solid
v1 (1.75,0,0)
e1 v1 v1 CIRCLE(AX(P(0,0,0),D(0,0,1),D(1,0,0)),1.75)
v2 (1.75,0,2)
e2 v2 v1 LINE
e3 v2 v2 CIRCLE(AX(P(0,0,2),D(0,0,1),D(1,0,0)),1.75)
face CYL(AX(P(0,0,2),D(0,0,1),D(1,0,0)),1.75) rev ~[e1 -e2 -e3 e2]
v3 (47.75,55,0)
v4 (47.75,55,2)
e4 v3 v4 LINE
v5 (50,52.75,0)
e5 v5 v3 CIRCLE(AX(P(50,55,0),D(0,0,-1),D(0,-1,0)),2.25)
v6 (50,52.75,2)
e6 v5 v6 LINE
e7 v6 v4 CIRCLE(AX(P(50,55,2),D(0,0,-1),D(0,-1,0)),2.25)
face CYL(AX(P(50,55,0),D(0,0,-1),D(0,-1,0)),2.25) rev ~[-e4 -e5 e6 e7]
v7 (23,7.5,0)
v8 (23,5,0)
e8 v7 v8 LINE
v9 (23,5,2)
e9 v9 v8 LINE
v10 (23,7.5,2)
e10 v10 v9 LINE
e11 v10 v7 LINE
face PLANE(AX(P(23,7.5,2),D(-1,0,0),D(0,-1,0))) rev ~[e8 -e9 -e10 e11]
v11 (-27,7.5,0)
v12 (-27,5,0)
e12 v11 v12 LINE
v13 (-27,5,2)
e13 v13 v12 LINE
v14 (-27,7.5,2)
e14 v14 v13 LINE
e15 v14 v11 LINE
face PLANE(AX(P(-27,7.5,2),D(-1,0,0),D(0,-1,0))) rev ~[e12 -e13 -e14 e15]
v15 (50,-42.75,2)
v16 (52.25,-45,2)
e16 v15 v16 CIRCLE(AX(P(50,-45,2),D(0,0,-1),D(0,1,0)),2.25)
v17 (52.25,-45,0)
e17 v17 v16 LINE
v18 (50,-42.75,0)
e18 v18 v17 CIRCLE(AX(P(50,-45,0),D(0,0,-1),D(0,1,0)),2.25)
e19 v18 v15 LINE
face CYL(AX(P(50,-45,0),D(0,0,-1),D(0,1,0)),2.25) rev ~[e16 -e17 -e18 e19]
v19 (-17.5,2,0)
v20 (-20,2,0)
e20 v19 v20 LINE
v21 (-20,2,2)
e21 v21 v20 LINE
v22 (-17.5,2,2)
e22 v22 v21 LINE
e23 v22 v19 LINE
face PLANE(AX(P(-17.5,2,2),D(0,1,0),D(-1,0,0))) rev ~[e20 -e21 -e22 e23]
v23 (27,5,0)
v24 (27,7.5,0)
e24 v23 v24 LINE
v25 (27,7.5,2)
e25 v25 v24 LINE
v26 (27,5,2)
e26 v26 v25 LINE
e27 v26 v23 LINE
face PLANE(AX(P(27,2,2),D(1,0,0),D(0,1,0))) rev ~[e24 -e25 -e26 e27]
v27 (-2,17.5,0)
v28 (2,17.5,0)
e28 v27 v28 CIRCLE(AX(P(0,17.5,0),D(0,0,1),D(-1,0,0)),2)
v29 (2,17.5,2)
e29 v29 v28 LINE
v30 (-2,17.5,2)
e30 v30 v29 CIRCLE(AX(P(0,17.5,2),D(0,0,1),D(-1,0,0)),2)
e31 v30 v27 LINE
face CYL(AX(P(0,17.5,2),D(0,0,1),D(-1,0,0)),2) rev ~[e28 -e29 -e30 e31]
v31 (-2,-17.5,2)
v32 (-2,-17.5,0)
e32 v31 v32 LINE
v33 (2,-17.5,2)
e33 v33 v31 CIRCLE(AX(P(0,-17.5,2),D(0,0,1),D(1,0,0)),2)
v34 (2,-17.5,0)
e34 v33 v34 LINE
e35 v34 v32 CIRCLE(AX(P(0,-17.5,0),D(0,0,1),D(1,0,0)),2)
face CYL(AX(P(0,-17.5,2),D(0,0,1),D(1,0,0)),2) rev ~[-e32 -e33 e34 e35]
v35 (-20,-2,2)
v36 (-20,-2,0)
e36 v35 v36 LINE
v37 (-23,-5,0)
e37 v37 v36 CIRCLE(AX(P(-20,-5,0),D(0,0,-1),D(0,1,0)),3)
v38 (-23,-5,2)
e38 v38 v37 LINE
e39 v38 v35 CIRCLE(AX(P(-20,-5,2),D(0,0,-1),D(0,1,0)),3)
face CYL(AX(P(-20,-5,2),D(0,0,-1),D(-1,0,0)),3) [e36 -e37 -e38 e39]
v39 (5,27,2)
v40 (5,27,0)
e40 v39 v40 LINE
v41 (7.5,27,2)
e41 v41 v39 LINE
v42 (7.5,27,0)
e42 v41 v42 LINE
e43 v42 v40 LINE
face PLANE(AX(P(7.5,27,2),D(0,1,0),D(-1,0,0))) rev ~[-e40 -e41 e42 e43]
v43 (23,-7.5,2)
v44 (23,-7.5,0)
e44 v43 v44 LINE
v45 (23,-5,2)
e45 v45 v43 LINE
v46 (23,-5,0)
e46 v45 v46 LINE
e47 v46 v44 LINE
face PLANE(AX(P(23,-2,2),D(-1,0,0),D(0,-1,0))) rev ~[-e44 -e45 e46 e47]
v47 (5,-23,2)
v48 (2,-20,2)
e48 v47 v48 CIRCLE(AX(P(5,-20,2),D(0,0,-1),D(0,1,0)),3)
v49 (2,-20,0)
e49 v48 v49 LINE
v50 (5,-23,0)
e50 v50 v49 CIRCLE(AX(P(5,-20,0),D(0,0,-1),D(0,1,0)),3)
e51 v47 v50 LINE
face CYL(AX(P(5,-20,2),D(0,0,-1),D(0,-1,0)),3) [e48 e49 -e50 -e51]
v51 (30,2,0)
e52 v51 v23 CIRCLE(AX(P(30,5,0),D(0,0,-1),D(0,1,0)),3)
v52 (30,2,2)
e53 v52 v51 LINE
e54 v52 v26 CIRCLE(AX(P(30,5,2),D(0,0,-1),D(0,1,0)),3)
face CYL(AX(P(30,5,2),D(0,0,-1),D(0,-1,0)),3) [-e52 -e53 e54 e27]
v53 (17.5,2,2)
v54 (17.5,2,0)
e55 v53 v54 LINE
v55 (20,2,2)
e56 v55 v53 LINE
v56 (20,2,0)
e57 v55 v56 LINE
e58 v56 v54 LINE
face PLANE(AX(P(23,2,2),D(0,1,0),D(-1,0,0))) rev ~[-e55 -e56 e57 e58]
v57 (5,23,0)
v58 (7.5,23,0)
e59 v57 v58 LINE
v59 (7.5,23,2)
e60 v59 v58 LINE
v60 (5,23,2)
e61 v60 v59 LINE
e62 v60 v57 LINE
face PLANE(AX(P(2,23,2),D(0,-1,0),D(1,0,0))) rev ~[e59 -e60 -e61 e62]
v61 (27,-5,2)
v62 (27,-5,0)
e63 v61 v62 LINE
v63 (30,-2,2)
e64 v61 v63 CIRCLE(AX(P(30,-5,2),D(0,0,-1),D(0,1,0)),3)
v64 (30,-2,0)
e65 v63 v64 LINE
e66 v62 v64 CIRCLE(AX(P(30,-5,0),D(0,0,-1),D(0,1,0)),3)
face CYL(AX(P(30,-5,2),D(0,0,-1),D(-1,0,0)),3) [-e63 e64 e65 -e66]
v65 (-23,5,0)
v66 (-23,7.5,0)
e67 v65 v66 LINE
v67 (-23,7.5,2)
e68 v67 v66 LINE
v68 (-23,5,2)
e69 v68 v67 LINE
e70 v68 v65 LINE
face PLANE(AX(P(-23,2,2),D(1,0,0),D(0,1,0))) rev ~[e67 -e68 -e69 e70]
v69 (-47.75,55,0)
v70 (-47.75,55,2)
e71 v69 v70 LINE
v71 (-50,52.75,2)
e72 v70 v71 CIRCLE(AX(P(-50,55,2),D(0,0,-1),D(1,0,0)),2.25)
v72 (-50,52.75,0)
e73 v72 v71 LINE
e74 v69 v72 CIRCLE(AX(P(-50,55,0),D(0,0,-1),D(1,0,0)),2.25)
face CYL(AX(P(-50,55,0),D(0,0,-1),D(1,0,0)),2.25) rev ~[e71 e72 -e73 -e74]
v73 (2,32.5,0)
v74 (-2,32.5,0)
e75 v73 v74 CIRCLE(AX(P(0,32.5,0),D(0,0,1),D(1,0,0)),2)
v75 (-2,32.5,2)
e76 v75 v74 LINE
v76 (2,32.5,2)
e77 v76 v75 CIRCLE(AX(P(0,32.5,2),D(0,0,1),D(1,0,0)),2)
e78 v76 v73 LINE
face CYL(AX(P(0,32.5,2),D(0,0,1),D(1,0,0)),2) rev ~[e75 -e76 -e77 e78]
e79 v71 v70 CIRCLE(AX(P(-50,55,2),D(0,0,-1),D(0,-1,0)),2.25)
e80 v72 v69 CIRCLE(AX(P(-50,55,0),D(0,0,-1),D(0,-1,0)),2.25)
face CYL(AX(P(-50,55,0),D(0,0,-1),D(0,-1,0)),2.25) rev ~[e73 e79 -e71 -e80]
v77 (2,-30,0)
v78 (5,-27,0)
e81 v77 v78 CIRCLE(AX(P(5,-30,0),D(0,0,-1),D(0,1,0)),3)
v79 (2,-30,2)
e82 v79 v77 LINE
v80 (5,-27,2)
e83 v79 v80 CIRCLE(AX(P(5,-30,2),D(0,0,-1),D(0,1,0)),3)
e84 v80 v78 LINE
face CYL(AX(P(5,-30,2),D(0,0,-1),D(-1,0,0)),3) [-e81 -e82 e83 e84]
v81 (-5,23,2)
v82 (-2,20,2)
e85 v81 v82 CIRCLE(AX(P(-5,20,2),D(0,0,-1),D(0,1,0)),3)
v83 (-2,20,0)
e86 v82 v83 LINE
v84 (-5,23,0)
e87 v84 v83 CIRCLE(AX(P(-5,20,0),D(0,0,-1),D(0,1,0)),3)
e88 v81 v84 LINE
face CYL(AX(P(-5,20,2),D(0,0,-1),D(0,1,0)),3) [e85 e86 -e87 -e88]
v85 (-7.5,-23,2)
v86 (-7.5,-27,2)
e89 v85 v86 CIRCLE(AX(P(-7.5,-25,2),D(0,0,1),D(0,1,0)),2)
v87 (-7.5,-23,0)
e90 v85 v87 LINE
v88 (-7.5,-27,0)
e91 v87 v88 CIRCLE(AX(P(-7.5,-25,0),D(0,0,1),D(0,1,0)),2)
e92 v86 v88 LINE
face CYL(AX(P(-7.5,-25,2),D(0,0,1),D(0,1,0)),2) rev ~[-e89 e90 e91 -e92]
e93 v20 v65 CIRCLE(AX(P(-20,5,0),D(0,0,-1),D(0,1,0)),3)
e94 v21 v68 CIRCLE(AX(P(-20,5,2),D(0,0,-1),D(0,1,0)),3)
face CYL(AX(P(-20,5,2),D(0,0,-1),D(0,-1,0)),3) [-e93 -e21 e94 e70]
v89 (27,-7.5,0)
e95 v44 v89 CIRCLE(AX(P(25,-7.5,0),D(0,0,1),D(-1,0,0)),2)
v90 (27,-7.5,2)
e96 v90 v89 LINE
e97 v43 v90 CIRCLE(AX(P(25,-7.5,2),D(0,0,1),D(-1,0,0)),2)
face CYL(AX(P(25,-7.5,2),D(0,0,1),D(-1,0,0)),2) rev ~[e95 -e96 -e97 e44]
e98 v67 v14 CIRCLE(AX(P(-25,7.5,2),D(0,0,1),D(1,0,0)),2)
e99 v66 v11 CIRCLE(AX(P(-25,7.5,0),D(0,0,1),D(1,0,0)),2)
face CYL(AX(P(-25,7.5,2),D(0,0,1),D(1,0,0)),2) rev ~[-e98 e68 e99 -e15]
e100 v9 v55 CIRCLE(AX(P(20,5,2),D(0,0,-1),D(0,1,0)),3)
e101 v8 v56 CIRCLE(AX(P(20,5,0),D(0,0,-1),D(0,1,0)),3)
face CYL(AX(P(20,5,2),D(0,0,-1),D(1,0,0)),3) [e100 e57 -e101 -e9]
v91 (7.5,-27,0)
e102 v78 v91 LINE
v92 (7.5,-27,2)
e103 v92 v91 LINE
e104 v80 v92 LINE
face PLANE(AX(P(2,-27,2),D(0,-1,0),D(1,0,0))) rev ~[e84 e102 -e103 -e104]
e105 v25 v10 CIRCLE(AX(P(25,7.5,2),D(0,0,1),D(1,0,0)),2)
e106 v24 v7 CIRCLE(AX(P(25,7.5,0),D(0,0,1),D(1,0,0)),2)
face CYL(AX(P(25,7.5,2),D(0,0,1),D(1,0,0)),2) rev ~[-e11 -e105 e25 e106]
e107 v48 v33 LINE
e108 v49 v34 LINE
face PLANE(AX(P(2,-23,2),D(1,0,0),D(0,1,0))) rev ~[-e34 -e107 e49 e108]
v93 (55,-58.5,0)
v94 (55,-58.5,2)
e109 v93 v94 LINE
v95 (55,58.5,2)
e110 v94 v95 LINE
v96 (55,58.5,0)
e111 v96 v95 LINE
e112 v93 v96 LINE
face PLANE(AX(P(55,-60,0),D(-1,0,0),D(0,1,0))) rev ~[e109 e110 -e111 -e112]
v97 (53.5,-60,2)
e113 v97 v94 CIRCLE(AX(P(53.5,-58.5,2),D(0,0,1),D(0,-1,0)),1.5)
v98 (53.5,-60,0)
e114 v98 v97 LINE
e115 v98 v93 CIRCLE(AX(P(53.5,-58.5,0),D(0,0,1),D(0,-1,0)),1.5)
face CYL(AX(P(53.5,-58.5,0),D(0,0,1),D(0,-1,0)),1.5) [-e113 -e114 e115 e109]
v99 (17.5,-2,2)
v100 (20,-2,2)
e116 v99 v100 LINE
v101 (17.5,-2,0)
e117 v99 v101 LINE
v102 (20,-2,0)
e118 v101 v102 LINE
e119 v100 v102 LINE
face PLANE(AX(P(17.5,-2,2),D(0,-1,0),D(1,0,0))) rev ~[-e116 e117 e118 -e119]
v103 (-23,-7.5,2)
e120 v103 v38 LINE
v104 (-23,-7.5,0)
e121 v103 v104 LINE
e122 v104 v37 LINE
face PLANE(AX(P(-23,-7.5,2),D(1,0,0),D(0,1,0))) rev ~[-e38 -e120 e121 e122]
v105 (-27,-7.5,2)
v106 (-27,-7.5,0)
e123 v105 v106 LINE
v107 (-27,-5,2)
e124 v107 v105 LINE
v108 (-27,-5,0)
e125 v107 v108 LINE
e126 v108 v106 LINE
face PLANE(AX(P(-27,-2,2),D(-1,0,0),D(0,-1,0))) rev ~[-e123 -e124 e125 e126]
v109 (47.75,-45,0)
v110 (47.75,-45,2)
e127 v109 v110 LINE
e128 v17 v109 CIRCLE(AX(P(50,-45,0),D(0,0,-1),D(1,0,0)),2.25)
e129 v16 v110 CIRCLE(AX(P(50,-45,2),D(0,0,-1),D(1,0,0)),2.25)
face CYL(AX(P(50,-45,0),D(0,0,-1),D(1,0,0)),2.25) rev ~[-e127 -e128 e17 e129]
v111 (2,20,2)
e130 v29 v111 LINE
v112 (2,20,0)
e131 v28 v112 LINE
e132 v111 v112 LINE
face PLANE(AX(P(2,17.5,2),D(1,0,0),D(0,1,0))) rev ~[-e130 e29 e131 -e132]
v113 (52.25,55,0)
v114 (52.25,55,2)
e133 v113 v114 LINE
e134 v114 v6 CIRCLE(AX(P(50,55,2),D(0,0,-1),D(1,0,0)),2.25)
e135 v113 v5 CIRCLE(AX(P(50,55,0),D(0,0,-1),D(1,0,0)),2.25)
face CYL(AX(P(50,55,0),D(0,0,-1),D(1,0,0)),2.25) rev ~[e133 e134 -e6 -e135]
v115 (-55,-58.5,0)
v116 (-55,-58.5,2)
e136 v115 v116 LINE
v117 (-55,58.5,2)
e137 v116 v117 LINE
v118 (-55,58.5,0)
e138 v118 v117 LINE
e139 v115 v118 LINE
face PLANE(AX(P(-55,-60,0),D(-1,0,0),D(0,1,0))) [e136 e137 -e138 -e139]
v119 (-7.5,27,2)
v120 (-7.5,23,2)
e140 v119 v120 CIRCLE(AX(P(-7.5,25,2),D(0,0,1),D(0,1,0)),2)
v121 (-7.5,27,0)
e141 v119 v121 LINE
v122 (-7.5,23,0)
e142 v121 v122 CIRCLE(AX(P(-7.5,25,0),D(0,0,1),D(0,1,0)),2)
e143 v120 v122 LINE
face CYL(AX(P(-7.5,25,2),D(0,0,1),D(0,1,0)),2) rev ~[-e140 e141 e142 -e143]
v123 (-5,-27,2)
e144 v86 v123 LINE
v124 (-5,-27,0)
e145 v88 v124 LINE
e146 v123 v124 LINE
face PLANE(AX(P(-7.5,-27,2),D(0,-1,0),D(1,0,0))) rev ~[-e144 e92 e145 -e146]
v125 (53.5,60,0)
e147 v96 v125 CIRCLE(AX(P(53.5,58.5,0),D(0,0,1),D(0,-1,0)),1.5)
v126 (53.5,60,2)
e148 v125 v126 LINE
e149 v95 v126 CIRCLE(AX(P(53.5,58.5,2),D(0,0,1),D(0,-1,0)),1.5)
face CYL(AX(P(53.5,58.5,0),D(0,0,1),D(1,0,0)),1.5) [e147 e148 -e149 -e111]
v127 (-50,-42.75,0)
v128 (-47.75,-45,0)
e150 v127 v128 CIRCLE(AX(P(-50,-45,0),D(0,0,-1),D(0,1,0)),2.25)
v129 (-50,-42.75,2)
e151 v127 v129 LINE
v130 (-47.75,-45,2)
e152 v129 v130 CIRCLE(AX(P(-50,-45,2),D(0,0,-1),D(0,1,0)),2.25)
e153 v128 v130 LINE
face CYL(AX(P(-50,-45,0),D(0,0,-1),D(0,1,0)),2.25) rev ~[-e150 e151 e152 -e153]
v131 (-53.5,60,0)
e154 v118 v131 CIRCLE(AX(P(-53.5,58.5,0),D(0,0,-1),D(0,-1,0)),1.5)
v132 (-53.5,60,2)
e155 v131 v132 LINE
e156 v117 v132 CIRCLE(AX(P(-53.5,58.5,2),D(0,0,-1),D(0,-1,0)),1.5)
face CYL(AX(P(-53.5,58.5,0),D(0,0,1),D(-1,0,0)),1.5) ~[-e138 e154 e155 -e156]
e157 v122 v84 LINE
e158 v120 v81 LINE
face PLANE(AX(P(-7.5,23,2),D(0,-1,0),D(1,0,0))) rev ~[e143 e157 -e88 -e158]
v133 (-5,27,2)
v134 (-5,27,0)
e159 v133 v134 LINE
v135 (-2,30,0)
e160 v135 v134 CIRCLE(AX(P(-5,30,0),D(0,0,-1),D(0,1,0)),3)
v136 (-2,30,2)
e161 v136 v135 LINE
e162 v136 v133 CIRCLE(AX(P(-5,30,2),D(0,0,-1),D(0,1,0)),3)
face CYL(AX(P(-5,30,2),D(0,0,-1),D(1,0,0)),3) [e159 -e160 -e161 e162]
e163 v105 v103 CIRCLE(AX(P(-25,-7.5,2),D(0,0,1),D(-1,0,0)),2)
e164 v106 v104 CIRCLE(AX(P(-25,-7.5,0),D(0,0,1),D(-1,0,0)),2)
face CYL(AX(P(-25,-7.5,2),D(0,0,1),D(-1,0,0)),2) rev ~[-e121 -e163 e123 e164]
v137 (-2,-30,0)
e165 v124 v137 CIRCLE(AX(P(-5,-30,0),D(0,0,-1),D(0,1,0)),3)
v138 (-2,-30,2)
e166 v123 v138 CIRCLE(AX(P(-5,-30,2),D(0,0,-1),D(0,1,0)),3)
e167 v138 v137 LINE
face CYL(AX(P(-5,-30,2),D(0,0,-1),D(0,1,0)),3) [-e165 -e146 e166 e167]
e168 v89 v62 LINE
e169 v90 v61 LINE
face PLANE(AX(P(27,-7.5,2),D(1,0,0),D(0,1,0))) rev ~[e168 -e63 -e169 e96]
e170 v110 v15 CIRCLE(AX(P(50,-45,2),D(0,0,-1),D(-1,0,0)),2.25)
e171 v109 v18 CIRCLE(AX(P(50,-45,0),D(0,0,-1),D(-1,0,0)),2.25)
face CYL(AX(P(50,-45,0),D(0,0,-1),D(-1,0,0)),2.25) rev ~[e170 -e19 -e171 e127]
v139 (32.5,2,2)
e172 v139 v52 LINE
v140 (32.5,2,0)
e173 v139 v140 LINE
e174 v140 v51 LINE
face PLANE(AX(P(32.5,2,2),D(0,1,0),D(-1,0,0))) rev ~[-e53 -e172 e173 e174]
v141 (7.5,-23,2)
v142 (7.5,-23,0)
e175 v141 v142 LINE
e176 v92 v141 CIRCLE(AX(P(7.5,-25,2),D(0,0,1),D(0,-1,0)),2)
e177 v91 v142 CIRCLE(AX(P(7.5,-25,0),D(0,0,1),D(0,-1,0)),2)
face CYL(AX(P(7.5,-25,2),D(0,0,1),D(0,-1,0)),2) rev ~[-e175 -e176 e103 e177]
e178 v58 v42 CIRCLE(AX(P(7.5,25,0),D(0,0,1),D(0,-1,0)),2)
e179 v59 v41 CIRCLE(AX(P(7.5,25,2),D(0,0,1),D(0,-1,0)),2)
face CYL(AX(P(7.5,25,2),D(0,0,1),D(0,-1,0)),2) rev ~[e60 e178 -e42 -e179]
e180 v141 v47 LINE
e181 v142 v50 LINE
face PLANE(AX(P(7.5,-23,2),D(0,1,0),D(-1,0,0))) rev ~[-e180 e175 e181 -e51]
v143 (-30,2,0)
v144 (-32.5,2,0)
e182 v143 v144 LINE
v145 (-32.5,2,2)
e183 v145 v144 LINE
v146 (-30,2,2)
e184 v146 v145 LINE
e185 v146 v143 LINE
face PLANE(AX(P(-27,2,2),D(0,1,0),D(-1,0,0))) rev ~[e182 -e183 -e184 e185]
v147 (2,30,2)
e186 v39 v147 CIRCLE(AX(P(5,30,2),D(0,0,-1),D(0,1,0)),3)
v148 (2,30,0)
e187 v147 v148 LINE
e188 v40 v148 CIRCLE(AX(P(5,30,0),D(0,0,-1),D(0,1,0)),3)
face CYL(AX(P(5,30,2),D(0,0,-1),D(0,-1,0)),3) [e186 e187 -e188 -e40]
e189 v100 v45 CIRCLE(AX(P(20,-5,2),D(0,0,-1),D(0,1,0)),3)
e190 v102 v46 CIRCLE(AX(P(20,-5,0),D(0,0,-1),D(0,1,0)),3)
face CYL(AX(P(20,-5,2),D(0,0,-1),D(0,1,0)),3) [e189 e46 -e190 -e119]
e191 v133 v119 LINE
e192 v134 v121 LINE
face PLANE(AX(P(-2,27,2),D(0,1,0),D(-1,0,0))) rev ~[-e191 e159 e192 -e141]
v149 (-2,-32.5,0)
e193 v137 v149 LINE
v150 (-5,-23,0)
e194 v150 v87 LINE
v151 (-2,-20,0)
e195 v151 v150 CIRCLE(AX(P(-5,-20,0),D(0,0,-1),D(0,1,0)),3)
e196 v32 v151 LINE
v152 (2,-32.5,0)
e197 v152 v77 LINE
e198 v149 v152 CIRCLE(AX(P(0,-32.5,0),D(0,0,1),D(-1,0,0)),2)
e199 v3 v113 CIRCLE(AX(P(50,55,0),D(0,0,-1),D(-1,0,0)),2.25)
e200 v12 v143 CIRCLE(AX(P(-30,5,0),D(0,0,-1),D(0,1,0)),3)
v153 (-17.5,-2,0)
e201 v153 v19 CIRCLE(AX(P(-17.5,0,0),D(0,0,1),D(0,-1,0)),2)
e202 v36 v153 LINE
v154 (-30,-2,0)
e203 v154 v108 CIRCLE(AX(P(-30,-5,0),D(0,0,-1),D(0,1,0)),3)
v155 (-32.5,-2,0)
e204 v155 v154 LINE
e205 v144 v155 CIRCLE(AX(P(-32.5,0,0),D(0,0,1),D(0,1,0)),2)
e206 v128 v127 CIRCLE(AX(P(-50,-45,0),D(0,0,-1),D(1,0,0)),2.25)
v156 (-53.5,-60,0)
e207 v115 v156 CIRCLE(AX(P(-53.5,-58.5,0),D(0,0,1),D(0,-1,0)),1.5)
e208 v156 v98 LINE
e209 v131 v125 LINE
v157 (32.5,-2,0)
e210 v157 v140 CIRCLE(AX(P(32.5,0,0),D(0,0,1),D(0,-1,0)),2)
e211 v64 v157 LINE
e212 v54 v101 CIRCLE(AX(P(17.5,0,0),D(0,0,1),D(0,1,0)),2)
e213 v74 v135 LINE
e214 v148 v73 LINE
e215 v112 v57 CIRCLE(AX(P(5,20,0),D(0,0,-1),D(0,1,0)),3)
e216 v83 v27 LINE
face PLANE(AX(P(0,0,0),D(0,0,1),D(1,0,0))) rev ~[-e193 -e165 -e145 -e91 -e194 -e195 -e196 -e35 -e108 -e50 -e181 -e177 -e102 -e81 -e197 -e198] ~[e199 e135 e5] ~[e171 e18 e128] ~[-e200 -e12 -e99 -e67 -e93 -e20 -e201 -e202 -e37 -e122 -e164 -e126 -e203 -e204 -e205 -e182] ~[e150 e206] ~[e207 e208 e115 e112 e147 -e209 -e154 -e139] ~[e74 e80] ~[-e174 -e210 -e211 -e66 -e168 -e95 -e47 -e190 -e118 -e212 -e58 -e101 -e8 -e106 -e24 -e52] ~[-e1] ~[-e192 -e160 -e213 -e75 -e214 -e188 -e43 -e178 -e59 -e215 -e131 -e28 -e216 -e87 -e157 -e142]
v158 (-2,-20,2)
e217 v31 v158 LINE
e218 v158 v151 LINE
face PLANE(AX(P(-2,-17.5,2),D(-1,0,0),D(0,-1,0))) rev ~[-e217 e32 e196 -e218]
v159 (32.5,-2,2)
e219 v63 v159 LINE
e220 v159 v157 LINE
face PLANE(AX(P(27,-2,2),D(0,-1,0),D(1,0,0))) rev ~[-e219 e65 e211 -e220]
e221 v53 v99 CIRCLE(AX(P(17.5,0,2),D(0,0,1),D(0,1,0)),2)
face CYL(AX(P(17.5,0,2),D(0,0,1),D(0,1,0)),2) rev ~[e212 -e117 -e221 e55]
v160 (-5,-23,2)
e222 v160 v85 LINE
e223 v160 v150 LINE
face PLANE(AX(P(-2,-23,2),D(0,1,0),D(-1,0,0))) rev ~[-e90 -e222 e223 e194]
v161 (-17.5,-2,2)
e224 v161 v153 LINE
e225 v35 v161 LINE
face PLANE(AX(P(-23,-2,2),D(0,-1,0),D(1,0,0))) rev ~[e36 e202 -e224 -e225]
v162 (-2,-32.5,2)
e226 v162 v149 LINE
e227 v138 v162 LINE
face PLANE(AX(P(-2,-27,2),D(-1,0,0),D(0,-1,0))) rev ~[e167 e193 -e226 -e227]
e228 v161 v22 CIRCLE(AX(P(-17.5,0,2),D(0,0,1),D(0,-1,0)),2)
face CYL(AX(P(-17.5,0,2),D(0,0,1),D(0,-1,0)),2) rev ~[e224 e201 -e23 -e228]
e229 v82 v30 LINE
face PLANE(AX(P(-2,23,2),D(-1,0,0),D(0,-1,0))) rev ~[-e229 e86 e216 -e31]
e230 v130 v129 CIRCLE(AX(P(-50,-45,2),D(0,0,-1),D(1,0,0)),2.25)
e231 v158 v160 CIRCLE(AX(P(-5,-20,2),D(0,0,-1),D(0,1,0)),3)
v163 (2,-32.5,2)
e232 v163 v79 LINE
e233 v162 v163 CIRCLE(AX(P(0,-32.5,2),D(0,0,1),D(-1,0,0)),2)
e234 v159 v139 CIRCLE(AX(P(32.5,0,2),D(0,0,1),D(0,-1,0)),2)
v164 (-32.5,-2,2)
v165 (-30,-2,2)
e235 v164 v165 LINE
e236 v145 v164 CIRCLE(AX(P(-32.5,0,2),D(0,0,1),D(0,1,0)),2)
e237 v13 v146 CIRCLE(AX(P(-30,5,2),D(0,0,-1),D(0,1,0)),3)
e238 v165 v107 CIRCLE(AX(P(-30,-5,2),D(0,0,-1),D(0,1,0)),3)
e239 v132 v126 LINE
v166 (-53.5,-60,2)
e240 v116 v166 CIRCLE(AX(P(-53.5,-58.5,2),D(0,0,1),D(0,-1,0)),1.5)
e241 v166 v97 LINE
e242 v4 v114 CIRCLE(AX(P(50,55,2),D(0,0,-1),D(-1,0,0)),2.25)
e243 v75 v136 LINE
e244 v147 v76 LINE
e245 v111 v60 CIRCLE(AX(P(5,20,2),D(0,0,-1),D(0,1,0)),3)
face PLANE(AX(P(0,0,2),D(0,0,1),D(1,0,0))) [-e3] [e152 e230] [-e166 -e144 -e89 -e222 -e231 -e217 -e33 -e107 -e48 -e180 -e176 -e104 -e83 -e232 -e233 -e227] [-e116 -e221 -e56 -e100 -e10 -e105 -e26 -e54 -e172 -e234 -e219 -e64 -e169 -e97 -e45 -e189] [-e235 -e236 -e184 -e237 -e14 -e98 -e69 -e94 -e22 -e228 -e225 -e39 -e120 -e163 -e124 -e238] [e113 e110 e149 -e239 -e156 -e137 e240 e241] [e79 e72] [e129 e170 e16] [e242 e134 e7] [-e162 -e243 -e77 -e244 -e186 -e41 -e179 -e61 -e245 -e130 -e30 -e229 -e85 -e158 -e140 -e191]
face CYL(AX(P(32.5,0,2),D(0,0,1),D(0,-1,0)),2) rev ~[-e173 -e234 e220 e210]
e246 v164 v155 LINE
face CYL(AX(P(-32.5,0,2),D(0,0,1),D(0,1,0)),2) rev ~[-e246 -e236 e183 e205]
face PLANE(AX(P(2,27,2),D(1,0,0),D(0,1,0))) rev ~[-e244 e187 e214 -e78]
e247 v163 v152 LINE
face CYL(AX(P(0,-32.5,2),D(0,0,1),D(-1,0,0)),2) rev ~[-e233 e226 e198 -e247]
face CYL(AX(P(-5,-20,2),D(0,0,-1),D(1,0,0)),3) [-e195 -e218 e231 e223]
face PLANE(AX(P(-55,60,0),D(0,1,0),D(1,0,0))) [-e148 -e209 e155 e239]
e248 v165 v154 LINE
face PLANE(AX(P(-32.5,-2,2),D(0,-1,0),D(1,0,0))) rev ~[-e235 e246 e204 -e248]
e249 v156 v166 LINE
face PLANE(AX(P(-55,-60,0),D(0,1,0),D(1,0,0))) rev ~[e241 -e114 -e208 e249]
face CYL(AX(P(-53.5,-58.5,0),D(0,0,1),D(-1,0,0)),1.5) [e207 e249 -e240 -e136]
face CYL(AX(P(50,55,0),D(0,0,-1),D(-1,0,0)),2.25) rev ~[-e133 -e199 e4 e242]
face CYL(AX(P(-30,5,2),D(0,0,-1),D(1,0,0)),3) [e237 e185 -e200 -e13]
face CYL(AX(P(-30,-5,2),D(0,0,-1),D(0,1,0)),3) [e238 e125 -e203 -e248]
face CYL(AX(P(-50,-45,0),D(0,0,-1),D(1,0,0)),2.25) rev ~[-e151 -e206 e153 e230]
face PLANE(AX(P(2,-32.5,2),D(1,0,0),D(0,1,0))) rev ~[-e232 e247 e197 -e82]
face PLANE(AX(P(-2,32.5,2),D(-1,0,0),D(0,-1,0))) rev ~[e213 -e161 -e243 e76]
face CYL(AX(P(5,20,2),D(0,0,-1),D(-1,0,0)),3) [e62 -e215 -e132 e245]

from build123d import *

# Parameters (mm, degrees)
F0_W     = 110
F0_H     = 120
F1_DEPTH = 2
F2_R     = 1.5
F3_W     = 2
F3_H     = 2
F3_R     = 1.75
F4_DEPTH = 2
F5_R     = 3


with BuildPart() as f1:
    # F0 (on Top) → F1 (new body)
    with BuildSketch(Plane.XY):
        Rectangle(F0_W, F0_H)
        with BuildLine():
            ThreePointArc((-50, 52.75), (-51.5909902577, 56.5909902577), (-47.75, 55))
            Line((-47.75, 55), (47.75, 55))
            ThreePointArc((47.75, 55), (50, 57.25), (52.25, 55))
            ThreePointArc((52.25, 55), (51.5909902577, 53.4090097423), (50, 52.75))
            Line((50, 52.75), (50, -42.75))
            ThreePointArc((50, -42.75), (51.5909902577, -43.4090097423), (52.25, -45))
            ThreePointArc((52.25, -45), (50, -47.25), (47.75, -45))
            Line((47.75, -45), (-47.75, -45))
            ThreePointArc((-47.75, -45), (-51.5909902577, -46.5909902577), (-50, -42.75))
            Line((-50, -42.75), (-50, 52.75))
        make_face(mode=Mode.SUBTRACT)
        with BuildLine():
            Line((47.75, 55), (-47.75, 55))
            ThreePointArc((-47.75, 55), (-48.4090097423, 53.4090097423), (-50, 52.75))
            Line((-50, 52.75), (-50, -42.75))
            ThreePointArc((-50, -42.75), (-48.4090097423, -43.4090097423), (-47.75, -45))
            Line((-47.75, -45), (47.75, -45))
            ThreePointArc((47.75, -45), (48.4090097423, -43.4090097423), (50, -42.75))
            Line((50, -42.75), (50, 52.75))
            ThreePointArc((50, 52.75), (48.4090097423, 53.4090097423), (47.75, 55))
        make_face()
    extrude(amount=F1_DEPTH)

    # F2
    f2_edges = [f1.edges().sort_by_distance(p)[0] for p in [
        (55, 60, 1),
        (55, -60, 1),
        (-55, -60, 1),
        (-55, 60, 1),
    ]]
    fillet(f2_edges, radius=F2_R)

    # F3 (on face) → F4 (cut)
    with BuildSketch(Plane.XY.offset(2)):
        with Locations((-24, 1)):
            Rectangle(F3_W, F3_H)
        with Locations((-26, 1)):
            Rectangle(F3_W, F3_H)
        with BuildLine():
            Line((-27, 2), (-25, 2))
            Line((-25, 2), (-23, 2))
            Line((-23, 2), (-23, 7.5))
            ThreePointArc((-23, 7.5), (-25, 9.5), (-27, 7.5))
            Line((-27, 7.5), (-27, 2))
        make_face()
        with Locations((-24, -1)):
            Rectangle(F3_W, F3_H)
        with Locations((-26, -1)):
            Rectangle(F3_W, F3_H)
        with BuildLine():
            Line((-27, 0), (-27, 2))
            Line((-27, 2), (-32.5, 2))
            ThreePointArc((-32.5, 2), (-34.5, 0), (-32.5, -2))
            Line((-32.5, -2), (-27, -2))
            Line((-27, -2), (-27, 0))
        make_face()
        with BuildLine():
            Line((-17.5, 2), (-23, 2))
            Line((-23, 2), (-23, 0))
            Line((-23, 0), (-23, -2))
            Line((-23, -2), (-17.5, -2))
            ThreePointArc((-17.5, -2), (-15.5, 0), (-17.5, 2))
        make_face()
        with BuildLine():
            Line((-23, -2), (-25, -2))
            Line((-25, -2), (-27, -2))
            Line((-27, -2), (-27, -7.5))
            ThreePointArc((-27, -7.5), (-25, -9.5), (-23, -7.5))
            Line((-23, -7.5), (-23, -2))
        make_face()
        Circle(F3_R)
        with BuildLine():
            Line((23, 2), (17.5, 2))
            ThreePointArc((17.5, 2), (15.5, 0), (17.5, -2))
            Line((17.5, -2), (23, -2))
            Line((23, -2), (23, 0))
            Line((23, 0), (23, 2))
        make_face()
        with BuildLine():
            Line((23, 7.5), (23, 2))
            Line((23, 2), (25, 2))
            Line((25, 2), (27, 2))
            Line((27, 2), (27, 7.5))
            ThreePointArc((27, 7.5), (25, 9.5), (23, 7.5))
        make_face()
        with Locations((24, 1)):
            Rectangle(F3_W, F3_H)
        with Locations((26, 1)):
            Rectangle(F3_W, F3_H)
        with Locations((24, -1)):
            Rectangle(F3_W, F3_H)
        with BuildLine():
            Line((25, -2), (23, -2))
            Line((23, -2), (23, -7.5))
            ThreePointArc((23, -7.5), (25, -9.5), (27, -7.5))
            Line((27, -7.5), (27, -2))
            Line((27, -2), (25, -2))
        make_face()
        with BuildLine():
            Line((32.5, 2), (27, 2))
            Line((27, 2), (27, 0))
            Line((27, 0), (27, -2))
            Line((27, -2), (32.5, -2))
            ThreePointArc((32.5, -2), (34.5, 0), (32.5, 2))
        make_face()
        with Locations((26, -1)):
            Rectangle(F3_W, F3_H)
        with Locations((1, 26)):
            Rectangle(F3_W, F3_H)
        with Locations((-1, 26)):
            Rectangle(F3_W, F3_H)
        with BuildLine():
            Line((-2, 27), (0, 27))
            Line((0, 27), (2, 27))
            Line((2, 27), (2, 32.5))
            ThreePointArc((2, 32.5), (0, 34.5), (-2, 32.5))
            Line((-2, 32.5), (-2, 27))
        make_face()
        with Locations((1, 24)):
            Rectangle(F3_W, F3_H)
        with Locations((-1, 24)):
            Rectangle(F3_W, F3_H)
        with BuildLine():
            Line((-2, 25), (-2, 27))
            Line((-2, 27), (-7.5, 27))
            ThreePointArc((-7.5, 27), (-9.5, 25), (-7.5, 23))
            Line((-7.5, 23), (-2, 23))
            Line((-2, 23), (-2, 25))
        make_face()
        with BuildLine():
            Line((7.5, 27), (2, 27))
            Line((2, 27), (2, 25))
            Line((2, 25), (2, 23))
            Line((2, 23), (7.5, 23))
            ThreePointArc((7.5, 23), (9.5, 25), (7.5, 27))
        make_face()
        with BuildLine():
            Line((2, 23), (0, 23))
            Line((0, 23), (-2, 23))
            Line((-2, 23), (-2, 17.5))
            ThreePointArc((-2, 17.5), (0, 15.5), (2, 17.5))
            Line((2, 17.5), (2, 23))
        make_face()
        with BuildLine():
            ThreePointArc((-2, -32.5), (0, -34.5), (2, -32.5))
            Line((2, -32.5), (2, -27))
            Line((2, -27), (0, -27))
            Line((0, -27), (-2, -27))
            Line((-2, -27), (-2, -32.5))
        make_face()
        with Locations((1, -26)):
            Rectangle(F3_W, F3_H)
        with BuildLine():
            Line((2, -25), (2, -27))
            Line((2, -27), (7.5, -27))
            ThreePointArc((7.5, -27), (9.5, -25), (7.5, -23))
            Line((7.5, -23), (2, -23))
            Line((2, -23), (2, -25))
        make_face()
        with Locations((-1, -26)):
            Rectangle(F3_W, F3_H)
        with BuildLine():
            Line((-7.5, -27), (-2, -27))
            Line((-2, -27), (-2, -25))
            Line((-2, -25), (-2, -23))
            Line((-2, -23), (-7.5, -23))
            ThreePointArc((-7.5, -23), (-9.5, -25), (-7.5, -27))
        make_face()
        with Locations((1, -24)):
            Rectangle(F3_W, F3_H)
        with Locations((-1, -24)):
            Rectangle(F3_W, F3_H)
        with BuildLine():
            Line((0, -23), (2, -23))
            Line((2, -23), (2, -17.5))
            ThreePointArc((2, -17.5), (0, -15.5), (-2, -17.5))
            Line((-2, -17.5), (-2, -23))
            Line((-2, -23), (0, -23))
        make_face()
    extrude(amount=-F4_DEPTH, mode=Mode.SUBTRACT)

    # F5
    f5_edges = [f1.edges().sort_by_distance(p)[0] for p in [
        (-23, -2, 1),
        (-23, 2, 1),
        (-27, -2, 1),
        (-27, 2, 1),
        (23, 2, 1),
        (23, -2, 1),
        (27, 2, 1),
        (27, -2, 1),
        (-2, 27, 1),
        (2, 27, 1),
        (2, 23, 1),
        (-2, 23, 1),
        (-2, -23, 1),
        (-2, -27, 1),
        (2, -27, 1),
        (2, -23, 1),
    ]]
    fillet(f5_edges, radius=F5_R)


solid = f1.part
